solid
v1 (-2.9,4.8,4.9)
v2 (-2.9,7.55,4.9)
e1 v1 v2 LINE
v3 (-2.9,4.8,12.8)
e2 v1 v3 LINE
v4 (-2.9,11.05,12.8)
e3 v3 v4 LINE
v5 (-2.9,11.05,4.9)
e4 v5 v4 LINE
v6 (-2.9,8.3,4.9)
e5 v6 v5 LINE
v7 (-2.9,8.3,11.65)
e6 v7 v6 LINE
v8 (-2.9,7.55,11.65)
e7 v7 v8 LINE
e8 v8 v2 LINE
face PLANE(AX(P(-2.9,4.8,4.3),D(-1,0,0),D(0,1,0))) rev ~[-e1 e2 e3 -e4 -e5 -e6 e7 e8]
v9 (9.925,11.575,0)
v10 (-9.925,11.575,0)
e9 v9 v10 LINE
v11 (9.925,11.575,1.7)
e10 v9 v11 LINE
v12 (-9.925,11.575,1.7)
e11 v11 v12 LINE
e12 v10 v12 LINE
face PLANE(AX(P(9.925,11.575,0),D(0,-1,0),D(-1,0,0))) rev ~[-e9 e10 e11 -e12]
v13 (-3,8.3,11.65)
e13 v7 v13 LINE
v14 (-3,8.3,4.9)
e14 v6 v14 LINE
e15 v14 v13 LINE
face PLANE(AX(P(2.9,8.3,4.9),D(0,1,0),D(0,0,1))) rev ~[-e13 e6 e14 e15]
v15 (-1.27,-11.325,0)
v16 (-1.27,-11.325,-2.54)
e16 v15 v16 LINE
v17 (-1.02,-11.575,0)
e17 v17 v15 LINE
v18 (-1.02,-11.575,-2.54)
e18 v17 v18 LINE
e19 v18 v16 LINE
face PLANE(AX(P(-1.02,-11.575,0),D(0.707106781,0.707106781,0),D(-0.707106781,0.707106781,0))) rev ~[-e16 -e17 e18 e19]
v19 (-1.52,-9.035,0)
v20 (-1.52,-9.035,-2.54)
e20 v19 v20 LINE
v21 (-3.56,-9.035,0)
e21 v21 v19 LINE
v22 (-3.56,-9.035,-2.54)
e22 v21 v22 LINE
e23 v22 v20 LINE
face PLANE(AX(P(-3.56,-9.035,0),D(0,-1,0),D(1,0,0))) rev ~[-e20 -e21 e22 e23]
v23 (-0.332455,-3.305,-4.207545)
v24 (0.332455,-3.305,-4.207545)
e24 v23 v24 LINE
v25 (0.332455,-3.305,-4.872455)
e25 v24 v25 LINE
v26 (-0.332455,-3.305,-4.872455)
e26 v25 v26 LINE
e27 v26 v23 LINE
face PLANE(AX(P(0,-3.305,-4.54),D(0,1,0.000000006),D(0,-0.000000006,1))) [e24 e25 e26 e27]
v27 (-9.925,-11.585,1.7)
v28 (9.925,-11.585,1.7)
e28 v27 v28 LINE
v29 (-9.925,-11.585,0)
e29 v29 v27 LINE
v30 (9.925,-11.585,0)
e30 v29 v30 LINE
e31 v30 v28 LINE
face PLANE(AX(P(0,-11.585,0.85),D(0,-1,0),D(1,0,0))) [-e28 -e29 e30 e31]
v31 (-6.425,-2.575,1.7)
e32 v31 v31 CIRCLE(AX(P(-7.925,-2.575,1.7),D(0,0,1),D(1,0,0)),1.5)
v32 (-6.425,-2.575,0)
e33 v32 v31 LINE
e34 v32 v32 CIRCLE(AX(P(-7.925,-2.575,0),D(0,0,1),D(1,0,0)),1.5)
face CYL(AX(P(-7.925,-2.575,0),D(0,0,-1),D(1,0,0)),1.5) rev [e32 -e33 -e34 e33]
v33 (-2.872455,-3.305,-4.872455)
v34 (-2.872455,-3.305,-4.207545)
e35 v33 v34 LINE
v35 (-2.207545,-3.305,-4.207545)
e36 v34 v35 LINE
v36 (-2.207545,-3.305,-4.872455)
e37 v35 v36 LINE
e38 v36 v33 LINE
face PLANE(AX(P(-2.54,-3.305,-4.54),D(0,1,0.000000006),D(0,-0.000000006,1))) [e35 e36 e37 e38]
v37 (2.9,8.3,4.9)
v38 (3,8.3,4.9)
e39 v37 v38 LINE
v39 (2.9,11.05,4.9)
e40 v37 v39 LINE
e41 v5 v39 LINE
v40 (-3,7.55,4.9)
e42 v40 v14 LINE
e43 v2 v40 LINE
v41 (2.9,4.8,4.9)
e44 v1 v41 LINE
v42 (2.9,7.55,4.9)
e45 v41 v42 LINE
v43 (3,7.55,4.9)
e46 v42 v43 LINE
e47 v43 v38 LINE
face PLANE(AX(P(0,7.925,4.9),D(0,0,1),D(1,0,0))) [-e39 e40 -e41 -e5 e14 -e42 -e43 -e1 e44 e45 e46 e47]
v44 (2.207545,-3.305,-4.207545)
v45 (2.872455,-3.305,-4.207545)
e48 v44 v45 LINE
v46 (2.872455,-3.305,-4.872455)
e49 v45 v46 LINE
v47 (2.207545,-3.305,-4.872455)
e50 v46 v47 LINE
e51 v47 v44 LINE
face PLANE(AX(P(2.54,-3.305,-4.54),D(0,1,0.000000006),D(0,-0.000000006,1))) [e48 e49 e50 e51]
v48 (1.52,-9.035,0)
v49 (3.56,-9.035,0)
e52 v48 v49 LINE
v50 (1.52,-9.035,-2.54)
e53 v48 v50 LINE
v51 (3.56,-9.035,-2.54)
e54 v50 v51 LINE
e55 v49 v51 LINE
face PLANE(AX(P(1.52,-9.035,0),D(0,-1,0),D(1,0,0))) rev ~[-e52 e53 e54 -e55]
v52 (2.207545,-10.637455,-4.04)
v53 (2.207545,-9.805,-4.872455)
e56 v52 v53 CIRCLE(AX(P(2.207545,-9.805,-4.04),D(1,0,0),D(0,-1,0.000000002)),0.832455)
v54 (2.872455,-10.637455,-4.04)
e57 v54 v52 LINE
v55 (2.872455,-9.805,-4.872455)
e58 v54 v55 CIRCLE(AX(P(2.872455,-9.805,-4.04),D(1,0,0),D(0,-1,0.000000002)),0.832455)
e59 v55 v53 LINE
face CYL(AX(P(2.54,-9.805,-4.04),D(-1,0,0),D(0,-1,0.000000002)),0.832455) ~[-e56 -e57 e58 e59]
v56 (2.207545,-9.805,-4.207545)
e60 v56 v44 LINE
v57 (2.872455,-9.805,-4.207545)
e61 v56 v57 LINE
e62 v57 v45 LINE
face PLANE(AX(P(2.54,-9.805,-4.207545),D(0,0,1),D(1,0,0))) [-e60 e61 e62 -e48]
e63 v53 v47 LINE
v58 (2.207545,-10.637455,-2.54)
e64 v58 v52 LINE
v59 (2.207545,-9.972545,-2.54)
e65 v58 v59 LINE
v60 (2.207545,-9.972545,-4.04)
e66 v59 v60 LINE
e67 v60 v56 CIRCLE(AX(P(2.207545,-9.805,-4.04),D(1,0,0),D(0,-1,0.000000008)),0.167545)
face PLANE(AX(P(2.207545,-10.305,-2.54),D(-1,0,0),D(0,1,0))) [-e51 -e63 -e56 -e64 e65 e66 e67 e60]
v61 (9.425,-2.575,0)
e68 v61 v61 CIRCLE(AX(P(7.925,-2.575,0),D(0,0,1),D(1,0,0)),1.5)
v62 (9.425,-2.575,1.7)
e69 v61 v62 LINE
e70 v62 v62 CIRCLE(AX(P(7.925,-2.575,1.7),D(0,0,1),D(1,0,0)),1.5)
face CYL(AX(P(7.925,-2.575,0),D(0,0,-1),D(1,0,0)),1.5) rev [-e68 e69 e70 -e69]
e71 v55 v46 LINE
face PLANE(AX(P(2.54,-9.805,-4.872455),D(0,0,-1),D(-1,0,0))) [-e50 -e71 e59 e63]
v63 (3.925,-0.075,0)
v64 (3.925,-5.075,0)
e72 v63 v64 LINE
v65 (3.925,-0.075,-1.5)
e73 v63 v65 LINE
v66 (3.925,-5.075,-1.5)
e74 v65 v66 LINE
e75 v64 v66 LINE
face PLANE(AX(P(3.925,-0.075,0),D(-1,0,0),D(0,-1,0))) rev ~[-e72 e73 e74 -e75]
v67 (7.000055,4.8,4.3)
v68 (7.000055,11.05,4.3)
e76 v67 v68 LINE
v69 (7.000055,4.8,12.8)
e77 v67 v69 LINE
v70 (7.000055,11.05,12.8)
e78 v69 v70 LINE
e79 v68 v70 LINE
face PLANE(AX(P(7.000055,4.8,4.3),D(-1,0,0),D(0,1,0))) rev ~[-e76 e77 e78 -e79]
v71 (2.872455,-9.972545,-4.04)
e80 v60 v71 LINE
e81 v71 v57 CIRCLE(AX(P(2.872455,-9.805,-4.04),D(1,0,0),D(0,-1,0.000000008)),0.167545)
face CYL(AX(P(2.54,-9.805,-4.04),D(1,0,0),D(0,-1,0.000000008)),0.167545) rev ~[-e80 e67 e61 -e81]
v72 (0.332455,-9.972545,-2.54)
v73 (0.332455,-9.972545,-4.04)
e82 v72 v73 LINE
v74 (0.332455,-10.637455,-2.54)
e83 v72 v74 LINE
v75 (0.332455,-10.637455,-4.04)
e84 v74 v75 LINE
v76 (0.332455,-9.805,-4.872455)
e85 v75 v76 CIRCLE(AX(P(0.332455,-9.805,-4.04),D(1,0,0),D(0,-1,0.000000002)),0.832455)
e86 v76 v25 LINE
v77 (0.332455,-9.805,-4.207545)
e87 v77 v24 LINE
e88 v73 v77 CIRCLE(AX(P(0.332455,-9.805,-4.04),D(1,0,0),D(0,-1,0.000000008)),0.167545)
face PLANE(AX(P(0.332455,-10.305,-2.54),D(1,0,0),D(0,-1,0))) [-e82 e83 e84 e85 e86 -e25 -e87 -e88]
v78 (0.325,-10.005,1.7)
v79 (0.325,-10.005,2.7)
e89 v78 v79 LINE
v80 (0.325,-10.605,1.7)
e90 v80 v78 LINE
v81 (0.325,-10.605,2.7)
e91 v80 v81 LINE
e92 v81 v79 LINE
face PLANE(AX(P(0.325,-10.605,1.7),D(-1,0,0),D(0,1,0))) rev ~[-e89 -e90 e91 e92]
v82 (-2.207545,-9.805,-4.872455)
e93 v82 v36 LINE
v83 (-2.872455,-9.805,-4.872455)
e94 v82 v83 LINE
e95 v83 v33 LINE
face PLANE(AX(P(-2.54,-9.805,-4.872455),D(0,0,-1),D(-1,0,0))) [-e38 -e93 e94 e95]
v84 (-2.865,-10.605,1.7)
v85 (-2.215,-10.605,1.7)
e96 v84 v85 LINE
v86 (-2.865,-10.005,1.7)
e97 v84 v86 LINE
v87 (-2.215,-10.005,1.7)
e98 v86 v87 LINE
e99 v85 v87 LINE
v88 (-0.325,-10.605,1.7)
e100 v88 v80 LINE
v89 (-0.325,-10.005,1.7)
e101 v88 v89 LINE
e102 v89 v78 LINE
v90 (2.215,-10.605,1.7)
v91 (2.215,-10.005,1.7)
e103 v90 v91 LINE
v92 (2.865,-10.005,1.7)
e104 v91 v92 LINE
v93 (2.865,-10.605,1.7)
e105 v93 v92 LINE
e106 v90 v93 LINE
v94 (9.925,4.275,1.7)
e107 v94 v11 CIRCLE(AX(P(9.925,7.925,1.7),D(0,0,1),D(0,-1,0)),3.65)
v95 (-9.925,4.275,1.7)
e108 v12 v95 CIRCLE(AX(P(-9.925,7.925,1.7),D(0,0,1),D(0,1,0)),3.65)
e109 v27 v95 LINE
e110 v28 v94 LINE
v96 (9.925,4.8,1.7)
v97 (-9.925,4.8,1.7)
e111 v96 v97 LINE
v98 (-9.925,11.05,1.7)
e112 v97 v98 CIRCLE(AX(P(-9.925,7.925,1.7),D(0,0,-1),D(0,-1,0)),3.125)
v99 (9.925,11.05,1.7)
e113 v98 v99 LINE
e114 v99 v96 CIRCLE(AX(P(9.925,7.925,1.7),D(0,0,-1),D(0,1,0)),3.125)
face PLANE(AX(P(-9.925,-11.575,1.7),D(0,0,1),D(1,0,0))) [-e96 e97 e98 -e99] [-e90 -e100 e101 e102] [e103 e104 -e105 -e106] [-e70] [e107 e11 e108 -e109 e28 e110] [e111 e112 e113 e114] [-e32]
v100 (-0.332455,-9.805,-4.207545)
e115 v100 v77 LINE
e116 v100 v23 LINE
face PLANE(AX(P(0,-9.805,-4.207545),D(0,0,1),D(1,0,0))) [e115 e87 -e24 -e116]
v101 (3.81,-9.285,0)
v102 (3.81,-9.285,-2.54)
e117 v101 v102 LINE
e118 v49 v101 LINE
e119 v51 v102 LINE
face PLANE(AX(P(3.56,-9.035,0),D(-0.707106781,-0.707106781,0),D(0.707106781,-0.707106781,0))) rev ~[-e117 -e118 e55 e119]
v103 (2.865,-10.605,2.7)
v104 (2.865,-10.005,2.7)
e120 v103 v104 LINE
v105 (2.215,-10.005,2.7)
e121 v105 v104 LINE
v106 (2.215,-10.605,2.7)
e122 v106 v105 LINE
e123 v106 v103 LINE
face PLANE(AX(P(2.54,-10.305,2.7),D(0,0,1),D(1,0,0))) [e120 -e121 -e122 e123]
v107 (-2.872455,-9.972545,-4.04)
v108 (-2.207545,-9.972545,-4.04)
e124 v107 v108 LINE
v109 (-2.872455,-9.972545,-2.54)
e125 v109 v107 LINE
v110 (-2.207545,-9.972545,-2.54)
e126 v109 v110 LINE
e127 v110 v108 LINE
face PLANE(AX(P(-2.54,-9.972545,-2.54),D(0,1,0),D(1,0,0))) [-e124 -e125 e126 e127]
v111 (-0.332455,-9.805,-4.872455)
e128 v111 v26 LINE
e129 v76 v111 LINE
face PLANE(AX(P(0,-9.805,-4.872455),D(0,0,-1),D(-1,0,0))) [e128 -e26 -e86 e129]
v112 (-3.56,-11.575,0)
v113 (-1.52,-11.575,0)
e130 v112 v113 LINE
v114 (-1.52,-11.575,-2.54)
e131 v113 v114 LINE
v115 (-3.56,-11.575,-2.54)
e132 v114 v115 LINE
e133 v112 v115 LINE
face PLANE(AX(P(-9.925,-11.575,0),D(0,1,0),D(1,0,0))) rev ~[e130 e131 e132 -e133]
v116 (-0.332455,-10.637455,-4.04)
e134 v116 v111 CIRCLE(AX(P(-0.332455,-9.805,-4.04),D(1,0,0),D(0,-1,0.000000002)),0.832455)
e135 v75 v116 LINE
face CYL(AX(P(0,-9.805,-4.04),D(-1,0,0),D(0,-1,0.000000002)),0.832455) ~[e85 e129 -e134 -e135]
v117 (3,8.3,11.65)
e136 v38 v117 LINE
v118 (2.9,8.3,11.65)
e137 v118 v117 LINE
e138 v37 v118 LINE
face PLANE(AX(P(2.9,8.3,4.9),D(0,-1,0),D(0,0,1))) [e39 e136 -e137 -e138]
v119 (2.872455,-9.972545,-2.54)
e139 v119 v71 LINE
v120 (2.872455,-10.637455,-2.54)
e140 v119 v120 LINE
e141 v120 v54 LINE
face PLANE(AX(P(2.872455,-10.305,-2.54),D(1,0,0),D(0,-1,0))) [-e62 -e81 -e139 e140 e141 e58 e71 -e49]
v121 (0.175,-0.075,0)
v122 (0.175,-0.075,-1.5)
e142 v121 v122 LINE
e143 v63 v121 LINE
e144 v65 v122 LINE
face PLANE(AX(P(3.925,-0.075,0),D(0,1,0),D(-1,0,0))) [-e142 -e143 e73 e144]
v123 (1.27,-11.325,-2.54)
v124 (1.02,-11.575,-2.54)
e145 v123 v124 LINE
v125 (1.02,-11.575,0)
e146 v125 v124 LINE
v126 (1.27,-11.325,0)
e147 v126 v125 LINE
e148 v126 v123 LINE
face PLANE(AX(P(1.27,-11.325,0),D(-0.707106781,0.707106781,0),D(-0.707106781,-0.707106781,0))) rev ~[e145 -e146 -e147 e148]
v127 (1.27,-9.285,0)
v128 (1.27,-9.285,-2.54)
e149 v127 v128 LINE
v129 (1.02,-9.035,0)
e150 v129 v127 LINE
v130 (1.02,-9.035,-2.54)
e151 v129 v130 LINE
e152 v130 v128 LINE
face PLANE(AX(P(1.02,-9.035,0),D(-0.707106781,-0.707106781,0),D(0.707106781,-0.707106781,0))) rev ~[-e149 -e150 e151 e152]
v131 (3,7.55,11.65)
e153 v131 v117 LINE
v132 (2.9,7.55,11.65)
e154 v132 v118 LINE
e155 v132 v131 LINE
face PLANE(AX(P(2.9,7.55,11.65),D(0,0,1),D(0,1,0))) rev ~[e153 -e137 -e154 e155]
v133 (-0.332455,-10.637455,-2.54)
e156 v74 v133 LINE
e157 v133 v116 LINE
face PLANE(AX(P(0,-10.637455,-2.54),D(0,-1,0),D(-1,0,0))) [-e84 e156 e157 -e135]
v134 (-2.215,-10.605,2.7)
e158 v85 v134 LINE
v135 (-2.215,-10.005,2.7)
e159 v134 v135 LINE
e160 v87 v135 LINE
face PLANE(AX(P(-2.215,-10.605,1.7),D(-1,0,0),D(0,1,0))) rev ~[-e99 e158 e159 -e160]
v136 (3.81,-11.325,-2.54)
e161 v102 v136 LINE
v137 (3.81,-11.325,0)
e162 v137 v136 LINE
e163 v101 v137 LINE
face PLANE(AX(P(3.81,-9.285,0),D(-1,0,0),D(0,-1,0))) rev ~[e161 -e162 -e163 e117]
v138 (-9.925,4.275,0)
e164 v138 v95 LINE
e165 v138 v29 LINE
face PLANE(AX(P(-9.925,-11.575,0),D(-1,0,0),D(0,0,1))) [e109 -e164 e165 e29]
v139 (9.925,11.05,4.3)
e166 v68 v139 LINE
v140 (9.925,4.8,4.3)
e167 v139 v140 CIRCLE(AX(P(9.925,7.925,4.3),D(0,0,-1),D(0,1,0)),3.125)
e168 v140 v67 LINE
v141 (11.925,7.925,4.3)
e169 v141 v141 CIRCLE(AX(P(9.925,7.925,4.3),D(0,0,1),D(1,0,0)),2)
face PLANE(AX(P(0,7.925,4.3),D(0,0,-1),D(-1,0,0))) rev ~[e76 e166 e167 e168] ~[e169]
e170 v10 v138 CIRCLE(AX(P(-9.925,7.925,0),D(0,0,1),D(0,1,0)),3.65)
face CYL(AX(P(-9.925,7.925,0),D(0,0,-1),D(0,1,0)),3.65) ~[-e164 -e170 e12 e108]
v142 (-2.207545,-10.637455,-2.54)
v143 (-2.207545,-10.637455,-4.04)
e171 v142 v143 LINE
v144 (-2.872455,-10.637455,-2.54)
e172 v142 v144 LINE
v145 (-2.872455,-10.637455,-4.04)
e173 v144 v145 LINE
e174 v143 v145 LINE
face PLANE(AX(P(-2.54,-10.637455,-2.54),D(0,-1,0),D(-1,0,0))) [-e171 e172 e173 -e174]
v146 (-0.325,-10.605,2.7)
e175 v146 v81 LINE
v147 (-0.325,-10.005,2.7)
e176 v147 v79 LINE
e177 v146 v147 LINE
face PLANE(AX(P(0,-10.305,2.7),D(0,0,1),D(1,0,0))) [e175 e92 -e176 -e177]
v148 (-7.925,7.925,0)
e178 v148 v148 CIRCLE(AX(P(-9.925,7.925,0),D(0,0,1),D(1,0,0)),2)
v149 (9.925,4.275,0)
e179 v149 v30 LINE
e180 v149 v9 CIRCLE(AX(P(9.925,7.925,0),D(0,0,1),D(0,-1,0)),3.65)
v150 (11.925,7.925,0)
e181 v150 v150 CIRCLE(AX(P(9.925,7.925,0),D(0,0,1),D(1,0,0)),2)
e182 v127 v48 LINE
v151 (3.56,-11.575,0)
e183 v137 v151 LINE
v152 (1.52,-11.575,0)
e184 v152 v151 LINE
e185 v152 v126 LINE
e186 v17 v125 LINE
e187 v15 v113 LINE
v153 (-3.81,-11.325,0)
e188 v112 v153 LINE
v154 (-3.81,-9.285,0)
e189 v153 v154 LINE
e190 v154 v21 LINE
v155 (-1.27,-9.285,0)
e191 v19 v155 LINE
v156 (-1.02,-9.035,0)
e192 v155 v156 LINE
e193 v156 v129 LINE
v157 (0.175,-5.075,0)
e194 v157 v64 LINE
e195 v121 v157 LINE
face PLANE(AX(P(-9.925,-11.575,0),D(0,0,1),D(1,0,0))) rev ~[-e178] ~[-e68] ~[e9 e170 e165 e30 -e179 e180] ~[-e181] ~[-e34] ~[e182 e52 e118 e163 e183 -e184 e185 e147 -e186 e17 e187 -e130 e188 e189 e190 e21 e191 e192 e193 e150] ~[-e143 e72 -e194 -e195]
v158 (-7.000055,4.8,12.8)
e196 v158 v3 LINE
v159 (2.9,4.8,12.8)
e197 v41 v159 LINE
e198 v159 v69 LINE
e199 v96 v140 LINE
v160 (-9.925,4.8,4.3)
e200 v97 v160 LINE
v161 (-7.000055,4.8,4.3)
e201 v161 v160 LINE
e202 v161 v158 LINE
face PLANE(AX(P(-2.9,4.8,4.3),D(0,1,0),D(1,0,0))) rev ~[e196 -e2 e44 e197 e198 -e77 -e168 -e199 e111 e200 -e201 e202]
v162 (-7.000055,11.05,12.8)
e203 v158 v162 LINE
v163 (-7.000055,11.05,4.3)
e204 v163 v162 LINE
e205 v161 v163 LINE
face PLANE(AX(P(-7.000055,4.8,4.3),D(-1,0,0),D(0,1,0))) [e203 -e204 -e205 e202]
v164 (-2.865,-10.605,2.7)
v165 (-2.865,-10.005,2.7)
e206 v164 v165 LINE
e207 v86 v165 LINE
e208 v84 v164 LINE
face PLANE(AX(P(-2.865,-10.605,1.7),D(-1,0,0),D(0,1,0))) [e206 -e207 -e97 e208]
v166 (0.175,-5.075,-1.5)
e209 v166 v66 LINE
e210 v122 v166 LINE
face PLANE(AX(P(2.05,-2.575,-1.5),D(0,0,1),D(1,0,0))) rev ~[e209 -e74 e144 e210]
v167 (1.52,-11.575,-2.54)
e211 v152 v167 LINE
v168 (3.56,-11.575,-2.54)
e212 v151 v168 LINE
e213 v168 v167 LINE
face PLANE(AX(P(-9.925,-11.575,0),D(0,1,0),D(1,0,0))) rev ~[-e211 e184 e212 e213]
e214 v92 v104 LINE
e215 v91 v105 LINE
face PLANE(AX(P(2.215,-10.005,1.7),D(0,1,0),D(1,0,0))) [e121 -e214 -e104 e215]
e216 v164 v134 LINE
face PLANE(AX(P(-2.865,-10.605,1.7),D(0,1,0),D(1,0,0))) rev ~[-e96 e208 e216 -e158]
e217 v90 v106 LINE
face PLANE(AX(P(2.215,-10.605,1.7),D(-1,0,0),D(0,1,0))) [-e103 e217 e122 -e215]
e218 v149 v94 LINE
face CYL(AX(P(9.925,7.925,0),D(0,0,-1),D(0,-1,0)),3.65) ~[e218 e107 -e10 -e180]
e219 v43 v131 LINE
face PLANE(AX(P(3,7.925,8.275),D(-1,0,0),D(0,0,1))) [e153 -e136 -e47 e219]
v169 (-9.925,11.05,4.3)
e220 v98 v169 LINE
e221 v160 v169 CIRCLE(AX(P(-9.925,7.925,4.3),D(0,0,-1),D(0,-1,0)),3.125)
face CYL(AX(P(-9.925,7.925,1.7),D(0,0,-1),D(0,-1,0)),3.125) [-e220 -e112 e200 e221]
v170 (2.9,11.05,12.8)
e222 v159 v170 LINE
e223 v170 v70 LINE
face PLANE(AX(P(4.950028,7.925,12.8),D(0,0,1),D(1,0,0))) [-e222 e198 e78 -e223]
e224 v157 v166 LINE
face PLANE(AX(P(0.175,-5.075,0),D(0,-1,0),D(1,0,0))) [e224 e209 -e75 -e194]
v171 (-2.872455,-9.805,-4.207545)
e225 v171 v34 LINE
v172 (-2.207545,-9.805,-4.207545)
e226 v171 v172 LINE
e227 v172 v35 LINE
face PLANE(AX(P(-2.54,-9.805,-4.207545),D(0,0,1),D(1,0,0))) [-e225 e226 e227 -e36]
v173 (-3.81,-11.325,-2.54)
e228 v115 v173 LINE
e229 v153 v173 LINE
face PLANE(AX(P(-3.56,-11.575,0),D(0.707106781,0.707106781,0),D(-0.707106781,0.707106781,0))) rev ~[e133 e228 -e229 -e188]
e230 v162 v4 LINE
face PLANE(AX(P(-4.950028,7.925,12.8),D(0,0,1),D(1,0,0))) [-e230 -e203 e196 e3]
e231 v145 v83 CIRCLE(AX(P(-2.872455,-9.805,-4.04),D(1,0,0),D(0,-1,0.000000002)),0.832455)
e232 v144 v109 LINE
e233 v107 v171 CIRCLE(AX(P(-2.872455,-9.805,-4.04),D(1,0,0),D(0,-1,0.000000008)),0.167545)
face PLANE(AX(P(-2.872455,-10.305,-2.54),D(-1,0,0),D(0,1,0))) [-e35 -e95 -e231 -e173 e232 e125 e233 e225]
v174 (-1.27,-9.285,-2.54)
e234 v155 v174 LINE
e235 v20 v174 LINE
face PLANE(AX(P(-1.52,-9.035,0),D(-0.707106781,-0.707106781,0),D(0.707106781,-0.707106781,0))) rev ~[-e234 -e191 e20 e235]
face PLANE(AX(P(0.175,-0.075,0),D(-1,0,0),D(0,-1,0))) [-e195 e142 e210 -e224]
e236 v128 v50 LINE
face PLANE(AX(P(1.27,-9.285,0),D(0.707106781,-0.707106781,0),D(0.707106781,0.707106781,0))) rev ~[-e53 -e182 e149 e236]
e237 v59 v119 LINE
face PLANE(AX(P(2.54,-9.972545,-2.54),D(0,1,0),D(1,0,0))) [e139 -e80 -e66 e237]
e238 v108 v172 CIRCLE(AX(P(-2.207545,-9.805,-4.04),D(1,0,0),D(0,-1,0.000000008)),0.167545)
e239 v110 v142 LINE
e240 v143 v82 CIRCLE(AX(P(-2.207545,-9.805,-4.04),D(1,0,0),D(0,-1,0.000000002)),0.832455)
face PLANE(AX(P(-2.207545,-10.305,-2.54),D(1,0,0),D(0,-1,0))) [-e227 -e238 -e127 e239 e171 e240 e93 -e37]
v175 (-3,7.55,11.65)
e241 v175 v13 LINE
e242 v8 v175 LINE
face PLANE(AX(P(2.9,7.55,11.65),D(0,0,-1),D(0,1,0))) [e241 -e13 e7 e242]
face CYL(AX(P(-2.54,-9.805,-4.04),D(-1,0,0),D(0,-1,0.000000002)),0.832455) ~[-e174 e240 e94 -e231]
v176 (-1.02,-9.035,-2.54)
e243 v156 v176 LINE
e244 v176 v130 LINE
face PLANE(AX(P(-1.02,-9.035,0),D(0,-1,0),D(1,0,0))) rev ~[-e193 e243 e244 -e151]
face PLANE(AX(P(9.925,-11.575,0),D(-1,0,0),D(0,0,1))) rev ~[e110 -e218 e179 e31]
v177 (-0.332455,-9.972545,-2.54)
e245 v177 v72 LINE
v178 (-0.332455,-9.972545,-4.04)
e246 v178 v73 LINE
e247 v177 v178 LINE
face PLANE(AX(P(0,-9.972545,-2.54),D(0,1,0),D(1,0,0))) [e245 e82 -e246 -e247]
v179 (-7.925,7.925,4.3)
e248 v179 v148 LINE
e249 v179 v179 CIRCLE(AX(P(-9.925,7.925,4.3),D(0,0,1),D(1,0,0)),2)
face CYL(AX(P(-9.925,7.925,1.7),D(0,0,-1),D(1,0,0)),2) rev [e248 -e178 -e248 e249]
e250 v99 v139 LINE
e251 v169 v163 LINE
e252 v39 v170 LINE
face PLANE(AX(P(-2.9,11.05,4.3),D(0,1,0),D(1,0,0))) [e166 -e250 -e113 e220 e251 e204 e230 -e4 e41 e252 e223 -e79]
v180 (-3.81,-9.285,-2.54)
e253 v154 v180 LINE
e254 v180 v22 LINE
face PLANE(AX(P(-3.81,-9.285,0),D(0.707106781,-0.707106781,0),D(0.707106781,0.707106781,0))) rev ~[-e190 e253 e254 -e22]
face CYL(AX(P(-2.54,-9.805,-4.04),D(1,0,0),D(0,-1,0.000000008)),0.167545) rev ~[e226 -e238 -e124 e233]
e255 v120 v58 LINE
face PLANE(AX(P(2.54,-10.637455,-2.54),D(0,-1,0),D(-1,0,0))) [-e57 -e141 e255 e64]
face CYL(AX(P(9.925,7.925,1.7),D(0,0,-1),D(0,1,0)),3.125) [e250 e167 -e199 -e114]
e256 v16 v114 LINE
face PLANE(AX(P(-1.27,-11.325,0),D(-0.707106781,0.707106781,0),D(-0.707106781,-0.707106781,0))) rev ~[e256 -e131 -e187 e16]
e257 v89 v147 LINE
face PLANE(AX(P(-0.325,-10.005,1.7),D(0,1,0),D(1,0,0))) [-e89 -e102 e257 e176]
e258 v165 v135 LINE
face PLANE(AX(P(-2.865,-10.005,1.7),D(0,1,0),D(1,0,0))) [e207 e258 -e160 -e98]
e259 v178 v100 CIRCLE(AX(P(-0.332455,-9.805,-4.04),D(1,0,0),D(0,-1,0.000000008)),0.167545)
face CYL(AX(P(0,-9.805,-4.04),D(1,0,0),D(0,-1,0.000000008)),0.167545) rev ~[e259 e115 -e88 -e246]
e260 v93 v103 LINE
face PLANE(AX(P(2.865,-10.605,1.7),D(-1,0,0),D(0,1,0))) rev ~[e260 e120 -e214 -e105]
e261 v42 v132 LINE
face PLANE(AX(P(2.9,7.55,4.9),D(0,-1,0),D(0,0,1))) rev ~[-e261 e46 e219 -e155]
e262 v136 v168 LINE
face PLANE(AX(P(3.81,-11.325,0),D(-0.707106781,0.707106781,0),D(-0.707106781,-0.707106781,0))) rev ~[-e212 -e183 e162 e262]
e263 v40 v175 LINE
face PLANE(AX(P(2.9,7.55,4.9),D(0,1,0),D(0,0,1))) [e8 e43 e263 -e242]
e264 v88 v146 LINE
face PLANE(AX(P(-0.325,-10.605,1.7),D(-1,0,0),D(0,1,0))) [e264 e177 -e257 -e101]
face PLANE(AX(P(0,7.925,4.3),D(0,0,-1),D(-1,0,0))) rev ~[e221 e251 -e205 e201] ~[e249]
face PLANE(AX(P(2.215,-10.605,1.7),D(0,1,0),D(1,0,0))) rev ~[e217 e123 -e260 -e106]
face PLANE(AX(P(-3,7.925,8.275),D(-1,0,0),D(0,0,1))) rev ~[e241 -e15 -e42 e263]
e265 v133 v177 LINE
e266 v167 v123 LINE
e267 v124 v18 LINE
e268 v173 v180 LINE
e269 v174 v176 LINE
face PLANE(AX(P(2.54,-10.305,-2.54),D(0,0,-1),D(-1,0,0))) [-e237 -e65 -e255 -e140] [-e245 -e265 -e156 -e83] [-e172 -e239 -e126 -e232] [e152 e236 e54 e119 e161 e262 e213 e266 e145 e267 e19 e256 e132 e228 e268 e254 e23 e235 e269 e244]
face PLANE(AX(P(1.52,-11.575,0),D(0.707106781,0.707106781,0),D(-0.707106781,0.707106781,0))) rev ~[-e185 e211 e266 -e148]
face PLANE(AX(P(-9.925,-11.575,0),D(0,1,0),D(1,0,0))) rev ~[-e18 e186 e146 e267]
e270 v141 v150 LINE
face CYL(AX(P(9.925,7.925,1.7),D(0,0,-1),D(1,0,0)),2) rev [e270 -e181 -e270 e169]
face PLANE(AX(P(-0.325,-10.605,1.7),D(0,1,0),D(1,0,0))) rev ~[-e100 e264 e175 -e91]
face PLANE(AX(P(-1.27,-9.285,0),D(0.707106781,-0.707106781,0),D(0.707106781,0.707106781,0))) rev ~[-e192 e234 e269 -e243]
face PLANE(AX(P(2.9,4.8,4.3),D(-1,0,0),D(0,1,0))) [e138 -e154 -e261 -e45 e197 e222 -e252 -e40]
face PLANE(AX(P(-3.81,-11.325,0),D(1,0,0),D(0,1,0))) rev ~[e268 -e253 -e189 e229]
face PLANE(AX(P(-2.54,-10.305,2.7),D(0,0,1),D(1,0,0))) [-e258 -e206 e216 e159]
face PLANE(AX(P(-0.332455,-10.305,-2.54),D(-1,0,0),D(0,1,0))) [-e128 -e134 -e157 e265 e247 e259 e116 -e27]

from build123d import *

# Parameters (mm, degrees)
IZIM1_R                     = 2
IZIM1_R_2                   = 1.5
Y_KSEKLIK_EKSTR_ZYON1_DEPTH = 1.7
IZIM2_R                     = 2
Y_KSEKLIK_EKSTR_ZYON2_DEPTH = 2.6
IZIM3_W                     = 4.100055298
IZIM3_H                     = 6.25
Y_KSEKLIK_EKSTR_ZYON3_DEPTH = 8.5
IZIM4_W                     = 5.8
IZIM4_H                     = 6.25
Y_KSEKLIK_EKSTR_ZYON4_DEPTH = 0.6
Y_KSEKLIK_EKSTR_ZYON6_DEPTH = 2.54
IZIM6_W                     = 19.85
IZIM6_H                     = 1.7
Y_KSEKLIK_EKSTR_ZYON7_DEPTH = 0.01
IZIM7_W                     = 6.75
IZIM7_H                     = 0.75
KES_EKSTR_ZYON1_DEPTH       = 5.9
KES_EKSTR_ZYON1_DEPTH_BACK  = 0.1
IZIM8_W                     = 0.664910116
IZIM8_H                     = 0.664910116
IZIM11_W                    = 0.65
IZIM11_H                    = 0.6
Y_KSEKLIK_EKSTR_ZYON8_DEPTH = 1
Y_KSEKLIK_EKSTR_ZYON9_DEPTH = 1.5


with BuildPart() as part:
    # Çizim1 → Yükseklik-Ekstrüzyon1 (new body)
    with BuildSketch(Plane.XY):
        with BuildLine():
            Line((-9.925, -11.575), (9.925, -11.575))
            Line((9.925, -11.575), (9.925, 4.275))
            ThreePointArc((9.925, 4.275), (13.575, 7.925), (9.925, 11.575))
            Line((9.925, 11.575), (-9.925, 11.575))
            ThreePointArc((-9.925, 11.575), (-13.575, 7.925), (-9.925, 4.275))
            Line((-9.925, 4.275), (-9.925, -11.575))
        make_face()
        with Locations((9.925, 7.925)):
            Circle(IZIM1_R, mode=Mode.SUBTRACT)
        with Locations((-9.925, 7.925)):
            Circle(IZIM1_R, mode=Mode.SUBTRACT)
        with Locations((7.925, -2.575)):
            Circle(IZIM1_R_2, mode=Mode.SUBTRACT)
        with Locations((-7.925, -2.575)):
            Circle(IZIM1_R_2, mode=Mode.SUBTRACT)
    extrude(amount=Y_KSEKLIK_EKSTR_ZYON1_DEPTH)

    # Çizim2 → Yükseklik-Ekstrüzyon2 (add)
    with BuildSketch(Plane.XY.offset(1.7)):
        with BuildLine():
            Line((-9.925, 11.05), (9.925, 11.05))
            ThreePointArc((9.925, 11.05), (13.05, 7.925), (9.925, 4.8))
            Line((9.925, 4.8), (-9.925, 4.8))
            ThreePointArc((-9.925, 4.8), (-13.05, 7.925), (-9.925, 11.05))
        make_face()
        with Locations((-9.925, 7.925)):
            Circle(IZIM2_R, mode=Mode.SUBTRACT)
        with Locations((9.925, 7.925)):
            Circle(IZIM2_R, mode=Mode.SUBTRACT)
    extrude(amount=Y_KSEKLIK_EKSTR_ZYON2_DEPTH)

    # Çizim3 → Yükseklik-Ekstrüzyon3 (add)
    with BuildSketch(Plane.XY.offset(4.3)):
        with Locations((4.950027649, 7.925)):
            Rectangle(IZIM3_W, IZIM3_H)
        with Locations((-4.950027649, 7.925)):
            Rectangle(IZIM3_W, IZIM3_H)
    extrude(amount=Y_KSEKLIK_EKSTR_ZYON3_DEPTH)

    # Çizim4 → Yükseklik-Ekstrüzyon4 (add)
    with BuildSketch(Plane.XY.offset(4.3)):
        with Locations((0, 7.925)):
            Rectangle(IZIM4_W, IZIM4_H)
    extrude(amount=Y_KSEKLIK_EKSTR_ZYON4_DEPTH)

    # Çizim5 → Yükseklik-Ekstrüzyon6 (add)
    with BuildSketch(Plane(origin=(0, 0, 0), x_dir=(-1, 0, 0), z_dir=(0, 0, -1))):
        Polygon((-1.27, -11.325), (-1.27, -9.285), (-1.52, -9.035), (-3.56, -9.035), (-3.81, -9.285), (-3.81, -11.325), (-3.56, -11.575), (-1.52, -11.575), align=None)
        Polygon((1.27, -9.285), (1.02, -9.035), (-1.02, -9.035), (-1.27, -9.285), (-1.27, -11.325), (-1.02, -11.575), (1.02, -11.575), (1.27, -11.325), align=None)
        Polygon((1.52, -9.035), (1.27, -9.285), (1.27, -11.325), (1.52, -11.575), (3.56, -11.575), (3.81, -11.325), (3.81, -9.285), (3.56, -9.035), align=None)
    extrude(amount=Y_KSEKLIK_EKSTR_ZYON6_DEPTH)

    # Çizim6 → Yükseklik-Ekstrüzyon7 (add)
    with BuildSketch(Plane.XZ.offset(11.575)):
        with Locations((0, 0.85)):
            Rectangle(IZIM6_W, IZIM6_H)
    extrude(amount=Y_KSEKLIK_EKSTR_ZYON7_DEPTH)

    # Çizim7 → Kes-Ekstrüzyon1 (cut, two sides)
    with BuildSketch(Plane.ZY.offset(-2.9)) as kes_ekstr_zyon1_sk:
        with Locations((8.275, 7.925)):
            Rectangle(IZIM7_W, IZIM7_H)
    extrude(amount=KES_EKSTR_ZYON1_DEPTH, mode=Mode.SUBTRACT)
    extrude(kes_ekstr_zyon1_sk.sketch, amount=-KES_EKSTR_ZYON1_DEPTH_BACK, mode=Mode.SUBTRACT)

    # Süpür1: sweep along a path in Çizim9
    with BuildLine(Plane(origin=(0, 0, 0), x_dir=(0, 0, -1), z_dir=(1, 0, 0))) as s_p_r1_path:
        Line((2.54, -10.305), (4.04, -10.305))
        ThreePointArc((4.04, -10.305), (4.393553391, -10.158553391), (4.54, -9.805))
        Line((4.54, -9.805), (4.54, -3.305))
    # Çizim8 → Süpür1 (sweep)
    with BuildSketch(Plane(origin=(0, 0, -2.54), x_dir=(-1, 0, 0), z_dir=(0, 0, -1))):
        with Locations((2.54, -10.305)):
            Rectangle(IZIM8_W, IZIM8_H)
        with Locations((0, -10.305)):
            Rectangle(IZIM8_W, IZIM8_H)
        with Locations((-2.54, -10.305)):
            Rectangle(IZIM8_W, IZIM8_H)
    sweep(path=s_p_r1_path.line)

    # Çizim11 → Yükseklik-Ekstrüzyon8 (add)
    with BuildSketch(Plane.XY.offset(1.7)):
        with Locations((-2.54, -10.305)):
            Rectangle(IZIM11_W, IZIM11_H)
        with Locations((0, -10.305)):
            Rectangle(IZIM11_W, IZIM11_H)
        with Locations((2.54, -10.305)):
            Rectangle(IZIM11_W, IZIM11_H)
    extrude(amount=Y_KSEKLIK_EKSTR_ZYON8_DEPTH)

    # Çizim12 → Yükseklik-Ekstrüzyon9 (add)
    with BuildSketch(Plane(origin=(0, 0, 0), x_dir=(-1, 0, 0), z_dir=(0, 0, -1))):
        Polygon((-3.925, -2.575), (-3.925, -0.075), (-0.175, -0.075), (-0.175, -5.075), (-3.925, -5.075), align=None)
    extrude(amount=Y_KSEKLIK_EKSTR_ZYON9_DEPTH)


solid = part.part
